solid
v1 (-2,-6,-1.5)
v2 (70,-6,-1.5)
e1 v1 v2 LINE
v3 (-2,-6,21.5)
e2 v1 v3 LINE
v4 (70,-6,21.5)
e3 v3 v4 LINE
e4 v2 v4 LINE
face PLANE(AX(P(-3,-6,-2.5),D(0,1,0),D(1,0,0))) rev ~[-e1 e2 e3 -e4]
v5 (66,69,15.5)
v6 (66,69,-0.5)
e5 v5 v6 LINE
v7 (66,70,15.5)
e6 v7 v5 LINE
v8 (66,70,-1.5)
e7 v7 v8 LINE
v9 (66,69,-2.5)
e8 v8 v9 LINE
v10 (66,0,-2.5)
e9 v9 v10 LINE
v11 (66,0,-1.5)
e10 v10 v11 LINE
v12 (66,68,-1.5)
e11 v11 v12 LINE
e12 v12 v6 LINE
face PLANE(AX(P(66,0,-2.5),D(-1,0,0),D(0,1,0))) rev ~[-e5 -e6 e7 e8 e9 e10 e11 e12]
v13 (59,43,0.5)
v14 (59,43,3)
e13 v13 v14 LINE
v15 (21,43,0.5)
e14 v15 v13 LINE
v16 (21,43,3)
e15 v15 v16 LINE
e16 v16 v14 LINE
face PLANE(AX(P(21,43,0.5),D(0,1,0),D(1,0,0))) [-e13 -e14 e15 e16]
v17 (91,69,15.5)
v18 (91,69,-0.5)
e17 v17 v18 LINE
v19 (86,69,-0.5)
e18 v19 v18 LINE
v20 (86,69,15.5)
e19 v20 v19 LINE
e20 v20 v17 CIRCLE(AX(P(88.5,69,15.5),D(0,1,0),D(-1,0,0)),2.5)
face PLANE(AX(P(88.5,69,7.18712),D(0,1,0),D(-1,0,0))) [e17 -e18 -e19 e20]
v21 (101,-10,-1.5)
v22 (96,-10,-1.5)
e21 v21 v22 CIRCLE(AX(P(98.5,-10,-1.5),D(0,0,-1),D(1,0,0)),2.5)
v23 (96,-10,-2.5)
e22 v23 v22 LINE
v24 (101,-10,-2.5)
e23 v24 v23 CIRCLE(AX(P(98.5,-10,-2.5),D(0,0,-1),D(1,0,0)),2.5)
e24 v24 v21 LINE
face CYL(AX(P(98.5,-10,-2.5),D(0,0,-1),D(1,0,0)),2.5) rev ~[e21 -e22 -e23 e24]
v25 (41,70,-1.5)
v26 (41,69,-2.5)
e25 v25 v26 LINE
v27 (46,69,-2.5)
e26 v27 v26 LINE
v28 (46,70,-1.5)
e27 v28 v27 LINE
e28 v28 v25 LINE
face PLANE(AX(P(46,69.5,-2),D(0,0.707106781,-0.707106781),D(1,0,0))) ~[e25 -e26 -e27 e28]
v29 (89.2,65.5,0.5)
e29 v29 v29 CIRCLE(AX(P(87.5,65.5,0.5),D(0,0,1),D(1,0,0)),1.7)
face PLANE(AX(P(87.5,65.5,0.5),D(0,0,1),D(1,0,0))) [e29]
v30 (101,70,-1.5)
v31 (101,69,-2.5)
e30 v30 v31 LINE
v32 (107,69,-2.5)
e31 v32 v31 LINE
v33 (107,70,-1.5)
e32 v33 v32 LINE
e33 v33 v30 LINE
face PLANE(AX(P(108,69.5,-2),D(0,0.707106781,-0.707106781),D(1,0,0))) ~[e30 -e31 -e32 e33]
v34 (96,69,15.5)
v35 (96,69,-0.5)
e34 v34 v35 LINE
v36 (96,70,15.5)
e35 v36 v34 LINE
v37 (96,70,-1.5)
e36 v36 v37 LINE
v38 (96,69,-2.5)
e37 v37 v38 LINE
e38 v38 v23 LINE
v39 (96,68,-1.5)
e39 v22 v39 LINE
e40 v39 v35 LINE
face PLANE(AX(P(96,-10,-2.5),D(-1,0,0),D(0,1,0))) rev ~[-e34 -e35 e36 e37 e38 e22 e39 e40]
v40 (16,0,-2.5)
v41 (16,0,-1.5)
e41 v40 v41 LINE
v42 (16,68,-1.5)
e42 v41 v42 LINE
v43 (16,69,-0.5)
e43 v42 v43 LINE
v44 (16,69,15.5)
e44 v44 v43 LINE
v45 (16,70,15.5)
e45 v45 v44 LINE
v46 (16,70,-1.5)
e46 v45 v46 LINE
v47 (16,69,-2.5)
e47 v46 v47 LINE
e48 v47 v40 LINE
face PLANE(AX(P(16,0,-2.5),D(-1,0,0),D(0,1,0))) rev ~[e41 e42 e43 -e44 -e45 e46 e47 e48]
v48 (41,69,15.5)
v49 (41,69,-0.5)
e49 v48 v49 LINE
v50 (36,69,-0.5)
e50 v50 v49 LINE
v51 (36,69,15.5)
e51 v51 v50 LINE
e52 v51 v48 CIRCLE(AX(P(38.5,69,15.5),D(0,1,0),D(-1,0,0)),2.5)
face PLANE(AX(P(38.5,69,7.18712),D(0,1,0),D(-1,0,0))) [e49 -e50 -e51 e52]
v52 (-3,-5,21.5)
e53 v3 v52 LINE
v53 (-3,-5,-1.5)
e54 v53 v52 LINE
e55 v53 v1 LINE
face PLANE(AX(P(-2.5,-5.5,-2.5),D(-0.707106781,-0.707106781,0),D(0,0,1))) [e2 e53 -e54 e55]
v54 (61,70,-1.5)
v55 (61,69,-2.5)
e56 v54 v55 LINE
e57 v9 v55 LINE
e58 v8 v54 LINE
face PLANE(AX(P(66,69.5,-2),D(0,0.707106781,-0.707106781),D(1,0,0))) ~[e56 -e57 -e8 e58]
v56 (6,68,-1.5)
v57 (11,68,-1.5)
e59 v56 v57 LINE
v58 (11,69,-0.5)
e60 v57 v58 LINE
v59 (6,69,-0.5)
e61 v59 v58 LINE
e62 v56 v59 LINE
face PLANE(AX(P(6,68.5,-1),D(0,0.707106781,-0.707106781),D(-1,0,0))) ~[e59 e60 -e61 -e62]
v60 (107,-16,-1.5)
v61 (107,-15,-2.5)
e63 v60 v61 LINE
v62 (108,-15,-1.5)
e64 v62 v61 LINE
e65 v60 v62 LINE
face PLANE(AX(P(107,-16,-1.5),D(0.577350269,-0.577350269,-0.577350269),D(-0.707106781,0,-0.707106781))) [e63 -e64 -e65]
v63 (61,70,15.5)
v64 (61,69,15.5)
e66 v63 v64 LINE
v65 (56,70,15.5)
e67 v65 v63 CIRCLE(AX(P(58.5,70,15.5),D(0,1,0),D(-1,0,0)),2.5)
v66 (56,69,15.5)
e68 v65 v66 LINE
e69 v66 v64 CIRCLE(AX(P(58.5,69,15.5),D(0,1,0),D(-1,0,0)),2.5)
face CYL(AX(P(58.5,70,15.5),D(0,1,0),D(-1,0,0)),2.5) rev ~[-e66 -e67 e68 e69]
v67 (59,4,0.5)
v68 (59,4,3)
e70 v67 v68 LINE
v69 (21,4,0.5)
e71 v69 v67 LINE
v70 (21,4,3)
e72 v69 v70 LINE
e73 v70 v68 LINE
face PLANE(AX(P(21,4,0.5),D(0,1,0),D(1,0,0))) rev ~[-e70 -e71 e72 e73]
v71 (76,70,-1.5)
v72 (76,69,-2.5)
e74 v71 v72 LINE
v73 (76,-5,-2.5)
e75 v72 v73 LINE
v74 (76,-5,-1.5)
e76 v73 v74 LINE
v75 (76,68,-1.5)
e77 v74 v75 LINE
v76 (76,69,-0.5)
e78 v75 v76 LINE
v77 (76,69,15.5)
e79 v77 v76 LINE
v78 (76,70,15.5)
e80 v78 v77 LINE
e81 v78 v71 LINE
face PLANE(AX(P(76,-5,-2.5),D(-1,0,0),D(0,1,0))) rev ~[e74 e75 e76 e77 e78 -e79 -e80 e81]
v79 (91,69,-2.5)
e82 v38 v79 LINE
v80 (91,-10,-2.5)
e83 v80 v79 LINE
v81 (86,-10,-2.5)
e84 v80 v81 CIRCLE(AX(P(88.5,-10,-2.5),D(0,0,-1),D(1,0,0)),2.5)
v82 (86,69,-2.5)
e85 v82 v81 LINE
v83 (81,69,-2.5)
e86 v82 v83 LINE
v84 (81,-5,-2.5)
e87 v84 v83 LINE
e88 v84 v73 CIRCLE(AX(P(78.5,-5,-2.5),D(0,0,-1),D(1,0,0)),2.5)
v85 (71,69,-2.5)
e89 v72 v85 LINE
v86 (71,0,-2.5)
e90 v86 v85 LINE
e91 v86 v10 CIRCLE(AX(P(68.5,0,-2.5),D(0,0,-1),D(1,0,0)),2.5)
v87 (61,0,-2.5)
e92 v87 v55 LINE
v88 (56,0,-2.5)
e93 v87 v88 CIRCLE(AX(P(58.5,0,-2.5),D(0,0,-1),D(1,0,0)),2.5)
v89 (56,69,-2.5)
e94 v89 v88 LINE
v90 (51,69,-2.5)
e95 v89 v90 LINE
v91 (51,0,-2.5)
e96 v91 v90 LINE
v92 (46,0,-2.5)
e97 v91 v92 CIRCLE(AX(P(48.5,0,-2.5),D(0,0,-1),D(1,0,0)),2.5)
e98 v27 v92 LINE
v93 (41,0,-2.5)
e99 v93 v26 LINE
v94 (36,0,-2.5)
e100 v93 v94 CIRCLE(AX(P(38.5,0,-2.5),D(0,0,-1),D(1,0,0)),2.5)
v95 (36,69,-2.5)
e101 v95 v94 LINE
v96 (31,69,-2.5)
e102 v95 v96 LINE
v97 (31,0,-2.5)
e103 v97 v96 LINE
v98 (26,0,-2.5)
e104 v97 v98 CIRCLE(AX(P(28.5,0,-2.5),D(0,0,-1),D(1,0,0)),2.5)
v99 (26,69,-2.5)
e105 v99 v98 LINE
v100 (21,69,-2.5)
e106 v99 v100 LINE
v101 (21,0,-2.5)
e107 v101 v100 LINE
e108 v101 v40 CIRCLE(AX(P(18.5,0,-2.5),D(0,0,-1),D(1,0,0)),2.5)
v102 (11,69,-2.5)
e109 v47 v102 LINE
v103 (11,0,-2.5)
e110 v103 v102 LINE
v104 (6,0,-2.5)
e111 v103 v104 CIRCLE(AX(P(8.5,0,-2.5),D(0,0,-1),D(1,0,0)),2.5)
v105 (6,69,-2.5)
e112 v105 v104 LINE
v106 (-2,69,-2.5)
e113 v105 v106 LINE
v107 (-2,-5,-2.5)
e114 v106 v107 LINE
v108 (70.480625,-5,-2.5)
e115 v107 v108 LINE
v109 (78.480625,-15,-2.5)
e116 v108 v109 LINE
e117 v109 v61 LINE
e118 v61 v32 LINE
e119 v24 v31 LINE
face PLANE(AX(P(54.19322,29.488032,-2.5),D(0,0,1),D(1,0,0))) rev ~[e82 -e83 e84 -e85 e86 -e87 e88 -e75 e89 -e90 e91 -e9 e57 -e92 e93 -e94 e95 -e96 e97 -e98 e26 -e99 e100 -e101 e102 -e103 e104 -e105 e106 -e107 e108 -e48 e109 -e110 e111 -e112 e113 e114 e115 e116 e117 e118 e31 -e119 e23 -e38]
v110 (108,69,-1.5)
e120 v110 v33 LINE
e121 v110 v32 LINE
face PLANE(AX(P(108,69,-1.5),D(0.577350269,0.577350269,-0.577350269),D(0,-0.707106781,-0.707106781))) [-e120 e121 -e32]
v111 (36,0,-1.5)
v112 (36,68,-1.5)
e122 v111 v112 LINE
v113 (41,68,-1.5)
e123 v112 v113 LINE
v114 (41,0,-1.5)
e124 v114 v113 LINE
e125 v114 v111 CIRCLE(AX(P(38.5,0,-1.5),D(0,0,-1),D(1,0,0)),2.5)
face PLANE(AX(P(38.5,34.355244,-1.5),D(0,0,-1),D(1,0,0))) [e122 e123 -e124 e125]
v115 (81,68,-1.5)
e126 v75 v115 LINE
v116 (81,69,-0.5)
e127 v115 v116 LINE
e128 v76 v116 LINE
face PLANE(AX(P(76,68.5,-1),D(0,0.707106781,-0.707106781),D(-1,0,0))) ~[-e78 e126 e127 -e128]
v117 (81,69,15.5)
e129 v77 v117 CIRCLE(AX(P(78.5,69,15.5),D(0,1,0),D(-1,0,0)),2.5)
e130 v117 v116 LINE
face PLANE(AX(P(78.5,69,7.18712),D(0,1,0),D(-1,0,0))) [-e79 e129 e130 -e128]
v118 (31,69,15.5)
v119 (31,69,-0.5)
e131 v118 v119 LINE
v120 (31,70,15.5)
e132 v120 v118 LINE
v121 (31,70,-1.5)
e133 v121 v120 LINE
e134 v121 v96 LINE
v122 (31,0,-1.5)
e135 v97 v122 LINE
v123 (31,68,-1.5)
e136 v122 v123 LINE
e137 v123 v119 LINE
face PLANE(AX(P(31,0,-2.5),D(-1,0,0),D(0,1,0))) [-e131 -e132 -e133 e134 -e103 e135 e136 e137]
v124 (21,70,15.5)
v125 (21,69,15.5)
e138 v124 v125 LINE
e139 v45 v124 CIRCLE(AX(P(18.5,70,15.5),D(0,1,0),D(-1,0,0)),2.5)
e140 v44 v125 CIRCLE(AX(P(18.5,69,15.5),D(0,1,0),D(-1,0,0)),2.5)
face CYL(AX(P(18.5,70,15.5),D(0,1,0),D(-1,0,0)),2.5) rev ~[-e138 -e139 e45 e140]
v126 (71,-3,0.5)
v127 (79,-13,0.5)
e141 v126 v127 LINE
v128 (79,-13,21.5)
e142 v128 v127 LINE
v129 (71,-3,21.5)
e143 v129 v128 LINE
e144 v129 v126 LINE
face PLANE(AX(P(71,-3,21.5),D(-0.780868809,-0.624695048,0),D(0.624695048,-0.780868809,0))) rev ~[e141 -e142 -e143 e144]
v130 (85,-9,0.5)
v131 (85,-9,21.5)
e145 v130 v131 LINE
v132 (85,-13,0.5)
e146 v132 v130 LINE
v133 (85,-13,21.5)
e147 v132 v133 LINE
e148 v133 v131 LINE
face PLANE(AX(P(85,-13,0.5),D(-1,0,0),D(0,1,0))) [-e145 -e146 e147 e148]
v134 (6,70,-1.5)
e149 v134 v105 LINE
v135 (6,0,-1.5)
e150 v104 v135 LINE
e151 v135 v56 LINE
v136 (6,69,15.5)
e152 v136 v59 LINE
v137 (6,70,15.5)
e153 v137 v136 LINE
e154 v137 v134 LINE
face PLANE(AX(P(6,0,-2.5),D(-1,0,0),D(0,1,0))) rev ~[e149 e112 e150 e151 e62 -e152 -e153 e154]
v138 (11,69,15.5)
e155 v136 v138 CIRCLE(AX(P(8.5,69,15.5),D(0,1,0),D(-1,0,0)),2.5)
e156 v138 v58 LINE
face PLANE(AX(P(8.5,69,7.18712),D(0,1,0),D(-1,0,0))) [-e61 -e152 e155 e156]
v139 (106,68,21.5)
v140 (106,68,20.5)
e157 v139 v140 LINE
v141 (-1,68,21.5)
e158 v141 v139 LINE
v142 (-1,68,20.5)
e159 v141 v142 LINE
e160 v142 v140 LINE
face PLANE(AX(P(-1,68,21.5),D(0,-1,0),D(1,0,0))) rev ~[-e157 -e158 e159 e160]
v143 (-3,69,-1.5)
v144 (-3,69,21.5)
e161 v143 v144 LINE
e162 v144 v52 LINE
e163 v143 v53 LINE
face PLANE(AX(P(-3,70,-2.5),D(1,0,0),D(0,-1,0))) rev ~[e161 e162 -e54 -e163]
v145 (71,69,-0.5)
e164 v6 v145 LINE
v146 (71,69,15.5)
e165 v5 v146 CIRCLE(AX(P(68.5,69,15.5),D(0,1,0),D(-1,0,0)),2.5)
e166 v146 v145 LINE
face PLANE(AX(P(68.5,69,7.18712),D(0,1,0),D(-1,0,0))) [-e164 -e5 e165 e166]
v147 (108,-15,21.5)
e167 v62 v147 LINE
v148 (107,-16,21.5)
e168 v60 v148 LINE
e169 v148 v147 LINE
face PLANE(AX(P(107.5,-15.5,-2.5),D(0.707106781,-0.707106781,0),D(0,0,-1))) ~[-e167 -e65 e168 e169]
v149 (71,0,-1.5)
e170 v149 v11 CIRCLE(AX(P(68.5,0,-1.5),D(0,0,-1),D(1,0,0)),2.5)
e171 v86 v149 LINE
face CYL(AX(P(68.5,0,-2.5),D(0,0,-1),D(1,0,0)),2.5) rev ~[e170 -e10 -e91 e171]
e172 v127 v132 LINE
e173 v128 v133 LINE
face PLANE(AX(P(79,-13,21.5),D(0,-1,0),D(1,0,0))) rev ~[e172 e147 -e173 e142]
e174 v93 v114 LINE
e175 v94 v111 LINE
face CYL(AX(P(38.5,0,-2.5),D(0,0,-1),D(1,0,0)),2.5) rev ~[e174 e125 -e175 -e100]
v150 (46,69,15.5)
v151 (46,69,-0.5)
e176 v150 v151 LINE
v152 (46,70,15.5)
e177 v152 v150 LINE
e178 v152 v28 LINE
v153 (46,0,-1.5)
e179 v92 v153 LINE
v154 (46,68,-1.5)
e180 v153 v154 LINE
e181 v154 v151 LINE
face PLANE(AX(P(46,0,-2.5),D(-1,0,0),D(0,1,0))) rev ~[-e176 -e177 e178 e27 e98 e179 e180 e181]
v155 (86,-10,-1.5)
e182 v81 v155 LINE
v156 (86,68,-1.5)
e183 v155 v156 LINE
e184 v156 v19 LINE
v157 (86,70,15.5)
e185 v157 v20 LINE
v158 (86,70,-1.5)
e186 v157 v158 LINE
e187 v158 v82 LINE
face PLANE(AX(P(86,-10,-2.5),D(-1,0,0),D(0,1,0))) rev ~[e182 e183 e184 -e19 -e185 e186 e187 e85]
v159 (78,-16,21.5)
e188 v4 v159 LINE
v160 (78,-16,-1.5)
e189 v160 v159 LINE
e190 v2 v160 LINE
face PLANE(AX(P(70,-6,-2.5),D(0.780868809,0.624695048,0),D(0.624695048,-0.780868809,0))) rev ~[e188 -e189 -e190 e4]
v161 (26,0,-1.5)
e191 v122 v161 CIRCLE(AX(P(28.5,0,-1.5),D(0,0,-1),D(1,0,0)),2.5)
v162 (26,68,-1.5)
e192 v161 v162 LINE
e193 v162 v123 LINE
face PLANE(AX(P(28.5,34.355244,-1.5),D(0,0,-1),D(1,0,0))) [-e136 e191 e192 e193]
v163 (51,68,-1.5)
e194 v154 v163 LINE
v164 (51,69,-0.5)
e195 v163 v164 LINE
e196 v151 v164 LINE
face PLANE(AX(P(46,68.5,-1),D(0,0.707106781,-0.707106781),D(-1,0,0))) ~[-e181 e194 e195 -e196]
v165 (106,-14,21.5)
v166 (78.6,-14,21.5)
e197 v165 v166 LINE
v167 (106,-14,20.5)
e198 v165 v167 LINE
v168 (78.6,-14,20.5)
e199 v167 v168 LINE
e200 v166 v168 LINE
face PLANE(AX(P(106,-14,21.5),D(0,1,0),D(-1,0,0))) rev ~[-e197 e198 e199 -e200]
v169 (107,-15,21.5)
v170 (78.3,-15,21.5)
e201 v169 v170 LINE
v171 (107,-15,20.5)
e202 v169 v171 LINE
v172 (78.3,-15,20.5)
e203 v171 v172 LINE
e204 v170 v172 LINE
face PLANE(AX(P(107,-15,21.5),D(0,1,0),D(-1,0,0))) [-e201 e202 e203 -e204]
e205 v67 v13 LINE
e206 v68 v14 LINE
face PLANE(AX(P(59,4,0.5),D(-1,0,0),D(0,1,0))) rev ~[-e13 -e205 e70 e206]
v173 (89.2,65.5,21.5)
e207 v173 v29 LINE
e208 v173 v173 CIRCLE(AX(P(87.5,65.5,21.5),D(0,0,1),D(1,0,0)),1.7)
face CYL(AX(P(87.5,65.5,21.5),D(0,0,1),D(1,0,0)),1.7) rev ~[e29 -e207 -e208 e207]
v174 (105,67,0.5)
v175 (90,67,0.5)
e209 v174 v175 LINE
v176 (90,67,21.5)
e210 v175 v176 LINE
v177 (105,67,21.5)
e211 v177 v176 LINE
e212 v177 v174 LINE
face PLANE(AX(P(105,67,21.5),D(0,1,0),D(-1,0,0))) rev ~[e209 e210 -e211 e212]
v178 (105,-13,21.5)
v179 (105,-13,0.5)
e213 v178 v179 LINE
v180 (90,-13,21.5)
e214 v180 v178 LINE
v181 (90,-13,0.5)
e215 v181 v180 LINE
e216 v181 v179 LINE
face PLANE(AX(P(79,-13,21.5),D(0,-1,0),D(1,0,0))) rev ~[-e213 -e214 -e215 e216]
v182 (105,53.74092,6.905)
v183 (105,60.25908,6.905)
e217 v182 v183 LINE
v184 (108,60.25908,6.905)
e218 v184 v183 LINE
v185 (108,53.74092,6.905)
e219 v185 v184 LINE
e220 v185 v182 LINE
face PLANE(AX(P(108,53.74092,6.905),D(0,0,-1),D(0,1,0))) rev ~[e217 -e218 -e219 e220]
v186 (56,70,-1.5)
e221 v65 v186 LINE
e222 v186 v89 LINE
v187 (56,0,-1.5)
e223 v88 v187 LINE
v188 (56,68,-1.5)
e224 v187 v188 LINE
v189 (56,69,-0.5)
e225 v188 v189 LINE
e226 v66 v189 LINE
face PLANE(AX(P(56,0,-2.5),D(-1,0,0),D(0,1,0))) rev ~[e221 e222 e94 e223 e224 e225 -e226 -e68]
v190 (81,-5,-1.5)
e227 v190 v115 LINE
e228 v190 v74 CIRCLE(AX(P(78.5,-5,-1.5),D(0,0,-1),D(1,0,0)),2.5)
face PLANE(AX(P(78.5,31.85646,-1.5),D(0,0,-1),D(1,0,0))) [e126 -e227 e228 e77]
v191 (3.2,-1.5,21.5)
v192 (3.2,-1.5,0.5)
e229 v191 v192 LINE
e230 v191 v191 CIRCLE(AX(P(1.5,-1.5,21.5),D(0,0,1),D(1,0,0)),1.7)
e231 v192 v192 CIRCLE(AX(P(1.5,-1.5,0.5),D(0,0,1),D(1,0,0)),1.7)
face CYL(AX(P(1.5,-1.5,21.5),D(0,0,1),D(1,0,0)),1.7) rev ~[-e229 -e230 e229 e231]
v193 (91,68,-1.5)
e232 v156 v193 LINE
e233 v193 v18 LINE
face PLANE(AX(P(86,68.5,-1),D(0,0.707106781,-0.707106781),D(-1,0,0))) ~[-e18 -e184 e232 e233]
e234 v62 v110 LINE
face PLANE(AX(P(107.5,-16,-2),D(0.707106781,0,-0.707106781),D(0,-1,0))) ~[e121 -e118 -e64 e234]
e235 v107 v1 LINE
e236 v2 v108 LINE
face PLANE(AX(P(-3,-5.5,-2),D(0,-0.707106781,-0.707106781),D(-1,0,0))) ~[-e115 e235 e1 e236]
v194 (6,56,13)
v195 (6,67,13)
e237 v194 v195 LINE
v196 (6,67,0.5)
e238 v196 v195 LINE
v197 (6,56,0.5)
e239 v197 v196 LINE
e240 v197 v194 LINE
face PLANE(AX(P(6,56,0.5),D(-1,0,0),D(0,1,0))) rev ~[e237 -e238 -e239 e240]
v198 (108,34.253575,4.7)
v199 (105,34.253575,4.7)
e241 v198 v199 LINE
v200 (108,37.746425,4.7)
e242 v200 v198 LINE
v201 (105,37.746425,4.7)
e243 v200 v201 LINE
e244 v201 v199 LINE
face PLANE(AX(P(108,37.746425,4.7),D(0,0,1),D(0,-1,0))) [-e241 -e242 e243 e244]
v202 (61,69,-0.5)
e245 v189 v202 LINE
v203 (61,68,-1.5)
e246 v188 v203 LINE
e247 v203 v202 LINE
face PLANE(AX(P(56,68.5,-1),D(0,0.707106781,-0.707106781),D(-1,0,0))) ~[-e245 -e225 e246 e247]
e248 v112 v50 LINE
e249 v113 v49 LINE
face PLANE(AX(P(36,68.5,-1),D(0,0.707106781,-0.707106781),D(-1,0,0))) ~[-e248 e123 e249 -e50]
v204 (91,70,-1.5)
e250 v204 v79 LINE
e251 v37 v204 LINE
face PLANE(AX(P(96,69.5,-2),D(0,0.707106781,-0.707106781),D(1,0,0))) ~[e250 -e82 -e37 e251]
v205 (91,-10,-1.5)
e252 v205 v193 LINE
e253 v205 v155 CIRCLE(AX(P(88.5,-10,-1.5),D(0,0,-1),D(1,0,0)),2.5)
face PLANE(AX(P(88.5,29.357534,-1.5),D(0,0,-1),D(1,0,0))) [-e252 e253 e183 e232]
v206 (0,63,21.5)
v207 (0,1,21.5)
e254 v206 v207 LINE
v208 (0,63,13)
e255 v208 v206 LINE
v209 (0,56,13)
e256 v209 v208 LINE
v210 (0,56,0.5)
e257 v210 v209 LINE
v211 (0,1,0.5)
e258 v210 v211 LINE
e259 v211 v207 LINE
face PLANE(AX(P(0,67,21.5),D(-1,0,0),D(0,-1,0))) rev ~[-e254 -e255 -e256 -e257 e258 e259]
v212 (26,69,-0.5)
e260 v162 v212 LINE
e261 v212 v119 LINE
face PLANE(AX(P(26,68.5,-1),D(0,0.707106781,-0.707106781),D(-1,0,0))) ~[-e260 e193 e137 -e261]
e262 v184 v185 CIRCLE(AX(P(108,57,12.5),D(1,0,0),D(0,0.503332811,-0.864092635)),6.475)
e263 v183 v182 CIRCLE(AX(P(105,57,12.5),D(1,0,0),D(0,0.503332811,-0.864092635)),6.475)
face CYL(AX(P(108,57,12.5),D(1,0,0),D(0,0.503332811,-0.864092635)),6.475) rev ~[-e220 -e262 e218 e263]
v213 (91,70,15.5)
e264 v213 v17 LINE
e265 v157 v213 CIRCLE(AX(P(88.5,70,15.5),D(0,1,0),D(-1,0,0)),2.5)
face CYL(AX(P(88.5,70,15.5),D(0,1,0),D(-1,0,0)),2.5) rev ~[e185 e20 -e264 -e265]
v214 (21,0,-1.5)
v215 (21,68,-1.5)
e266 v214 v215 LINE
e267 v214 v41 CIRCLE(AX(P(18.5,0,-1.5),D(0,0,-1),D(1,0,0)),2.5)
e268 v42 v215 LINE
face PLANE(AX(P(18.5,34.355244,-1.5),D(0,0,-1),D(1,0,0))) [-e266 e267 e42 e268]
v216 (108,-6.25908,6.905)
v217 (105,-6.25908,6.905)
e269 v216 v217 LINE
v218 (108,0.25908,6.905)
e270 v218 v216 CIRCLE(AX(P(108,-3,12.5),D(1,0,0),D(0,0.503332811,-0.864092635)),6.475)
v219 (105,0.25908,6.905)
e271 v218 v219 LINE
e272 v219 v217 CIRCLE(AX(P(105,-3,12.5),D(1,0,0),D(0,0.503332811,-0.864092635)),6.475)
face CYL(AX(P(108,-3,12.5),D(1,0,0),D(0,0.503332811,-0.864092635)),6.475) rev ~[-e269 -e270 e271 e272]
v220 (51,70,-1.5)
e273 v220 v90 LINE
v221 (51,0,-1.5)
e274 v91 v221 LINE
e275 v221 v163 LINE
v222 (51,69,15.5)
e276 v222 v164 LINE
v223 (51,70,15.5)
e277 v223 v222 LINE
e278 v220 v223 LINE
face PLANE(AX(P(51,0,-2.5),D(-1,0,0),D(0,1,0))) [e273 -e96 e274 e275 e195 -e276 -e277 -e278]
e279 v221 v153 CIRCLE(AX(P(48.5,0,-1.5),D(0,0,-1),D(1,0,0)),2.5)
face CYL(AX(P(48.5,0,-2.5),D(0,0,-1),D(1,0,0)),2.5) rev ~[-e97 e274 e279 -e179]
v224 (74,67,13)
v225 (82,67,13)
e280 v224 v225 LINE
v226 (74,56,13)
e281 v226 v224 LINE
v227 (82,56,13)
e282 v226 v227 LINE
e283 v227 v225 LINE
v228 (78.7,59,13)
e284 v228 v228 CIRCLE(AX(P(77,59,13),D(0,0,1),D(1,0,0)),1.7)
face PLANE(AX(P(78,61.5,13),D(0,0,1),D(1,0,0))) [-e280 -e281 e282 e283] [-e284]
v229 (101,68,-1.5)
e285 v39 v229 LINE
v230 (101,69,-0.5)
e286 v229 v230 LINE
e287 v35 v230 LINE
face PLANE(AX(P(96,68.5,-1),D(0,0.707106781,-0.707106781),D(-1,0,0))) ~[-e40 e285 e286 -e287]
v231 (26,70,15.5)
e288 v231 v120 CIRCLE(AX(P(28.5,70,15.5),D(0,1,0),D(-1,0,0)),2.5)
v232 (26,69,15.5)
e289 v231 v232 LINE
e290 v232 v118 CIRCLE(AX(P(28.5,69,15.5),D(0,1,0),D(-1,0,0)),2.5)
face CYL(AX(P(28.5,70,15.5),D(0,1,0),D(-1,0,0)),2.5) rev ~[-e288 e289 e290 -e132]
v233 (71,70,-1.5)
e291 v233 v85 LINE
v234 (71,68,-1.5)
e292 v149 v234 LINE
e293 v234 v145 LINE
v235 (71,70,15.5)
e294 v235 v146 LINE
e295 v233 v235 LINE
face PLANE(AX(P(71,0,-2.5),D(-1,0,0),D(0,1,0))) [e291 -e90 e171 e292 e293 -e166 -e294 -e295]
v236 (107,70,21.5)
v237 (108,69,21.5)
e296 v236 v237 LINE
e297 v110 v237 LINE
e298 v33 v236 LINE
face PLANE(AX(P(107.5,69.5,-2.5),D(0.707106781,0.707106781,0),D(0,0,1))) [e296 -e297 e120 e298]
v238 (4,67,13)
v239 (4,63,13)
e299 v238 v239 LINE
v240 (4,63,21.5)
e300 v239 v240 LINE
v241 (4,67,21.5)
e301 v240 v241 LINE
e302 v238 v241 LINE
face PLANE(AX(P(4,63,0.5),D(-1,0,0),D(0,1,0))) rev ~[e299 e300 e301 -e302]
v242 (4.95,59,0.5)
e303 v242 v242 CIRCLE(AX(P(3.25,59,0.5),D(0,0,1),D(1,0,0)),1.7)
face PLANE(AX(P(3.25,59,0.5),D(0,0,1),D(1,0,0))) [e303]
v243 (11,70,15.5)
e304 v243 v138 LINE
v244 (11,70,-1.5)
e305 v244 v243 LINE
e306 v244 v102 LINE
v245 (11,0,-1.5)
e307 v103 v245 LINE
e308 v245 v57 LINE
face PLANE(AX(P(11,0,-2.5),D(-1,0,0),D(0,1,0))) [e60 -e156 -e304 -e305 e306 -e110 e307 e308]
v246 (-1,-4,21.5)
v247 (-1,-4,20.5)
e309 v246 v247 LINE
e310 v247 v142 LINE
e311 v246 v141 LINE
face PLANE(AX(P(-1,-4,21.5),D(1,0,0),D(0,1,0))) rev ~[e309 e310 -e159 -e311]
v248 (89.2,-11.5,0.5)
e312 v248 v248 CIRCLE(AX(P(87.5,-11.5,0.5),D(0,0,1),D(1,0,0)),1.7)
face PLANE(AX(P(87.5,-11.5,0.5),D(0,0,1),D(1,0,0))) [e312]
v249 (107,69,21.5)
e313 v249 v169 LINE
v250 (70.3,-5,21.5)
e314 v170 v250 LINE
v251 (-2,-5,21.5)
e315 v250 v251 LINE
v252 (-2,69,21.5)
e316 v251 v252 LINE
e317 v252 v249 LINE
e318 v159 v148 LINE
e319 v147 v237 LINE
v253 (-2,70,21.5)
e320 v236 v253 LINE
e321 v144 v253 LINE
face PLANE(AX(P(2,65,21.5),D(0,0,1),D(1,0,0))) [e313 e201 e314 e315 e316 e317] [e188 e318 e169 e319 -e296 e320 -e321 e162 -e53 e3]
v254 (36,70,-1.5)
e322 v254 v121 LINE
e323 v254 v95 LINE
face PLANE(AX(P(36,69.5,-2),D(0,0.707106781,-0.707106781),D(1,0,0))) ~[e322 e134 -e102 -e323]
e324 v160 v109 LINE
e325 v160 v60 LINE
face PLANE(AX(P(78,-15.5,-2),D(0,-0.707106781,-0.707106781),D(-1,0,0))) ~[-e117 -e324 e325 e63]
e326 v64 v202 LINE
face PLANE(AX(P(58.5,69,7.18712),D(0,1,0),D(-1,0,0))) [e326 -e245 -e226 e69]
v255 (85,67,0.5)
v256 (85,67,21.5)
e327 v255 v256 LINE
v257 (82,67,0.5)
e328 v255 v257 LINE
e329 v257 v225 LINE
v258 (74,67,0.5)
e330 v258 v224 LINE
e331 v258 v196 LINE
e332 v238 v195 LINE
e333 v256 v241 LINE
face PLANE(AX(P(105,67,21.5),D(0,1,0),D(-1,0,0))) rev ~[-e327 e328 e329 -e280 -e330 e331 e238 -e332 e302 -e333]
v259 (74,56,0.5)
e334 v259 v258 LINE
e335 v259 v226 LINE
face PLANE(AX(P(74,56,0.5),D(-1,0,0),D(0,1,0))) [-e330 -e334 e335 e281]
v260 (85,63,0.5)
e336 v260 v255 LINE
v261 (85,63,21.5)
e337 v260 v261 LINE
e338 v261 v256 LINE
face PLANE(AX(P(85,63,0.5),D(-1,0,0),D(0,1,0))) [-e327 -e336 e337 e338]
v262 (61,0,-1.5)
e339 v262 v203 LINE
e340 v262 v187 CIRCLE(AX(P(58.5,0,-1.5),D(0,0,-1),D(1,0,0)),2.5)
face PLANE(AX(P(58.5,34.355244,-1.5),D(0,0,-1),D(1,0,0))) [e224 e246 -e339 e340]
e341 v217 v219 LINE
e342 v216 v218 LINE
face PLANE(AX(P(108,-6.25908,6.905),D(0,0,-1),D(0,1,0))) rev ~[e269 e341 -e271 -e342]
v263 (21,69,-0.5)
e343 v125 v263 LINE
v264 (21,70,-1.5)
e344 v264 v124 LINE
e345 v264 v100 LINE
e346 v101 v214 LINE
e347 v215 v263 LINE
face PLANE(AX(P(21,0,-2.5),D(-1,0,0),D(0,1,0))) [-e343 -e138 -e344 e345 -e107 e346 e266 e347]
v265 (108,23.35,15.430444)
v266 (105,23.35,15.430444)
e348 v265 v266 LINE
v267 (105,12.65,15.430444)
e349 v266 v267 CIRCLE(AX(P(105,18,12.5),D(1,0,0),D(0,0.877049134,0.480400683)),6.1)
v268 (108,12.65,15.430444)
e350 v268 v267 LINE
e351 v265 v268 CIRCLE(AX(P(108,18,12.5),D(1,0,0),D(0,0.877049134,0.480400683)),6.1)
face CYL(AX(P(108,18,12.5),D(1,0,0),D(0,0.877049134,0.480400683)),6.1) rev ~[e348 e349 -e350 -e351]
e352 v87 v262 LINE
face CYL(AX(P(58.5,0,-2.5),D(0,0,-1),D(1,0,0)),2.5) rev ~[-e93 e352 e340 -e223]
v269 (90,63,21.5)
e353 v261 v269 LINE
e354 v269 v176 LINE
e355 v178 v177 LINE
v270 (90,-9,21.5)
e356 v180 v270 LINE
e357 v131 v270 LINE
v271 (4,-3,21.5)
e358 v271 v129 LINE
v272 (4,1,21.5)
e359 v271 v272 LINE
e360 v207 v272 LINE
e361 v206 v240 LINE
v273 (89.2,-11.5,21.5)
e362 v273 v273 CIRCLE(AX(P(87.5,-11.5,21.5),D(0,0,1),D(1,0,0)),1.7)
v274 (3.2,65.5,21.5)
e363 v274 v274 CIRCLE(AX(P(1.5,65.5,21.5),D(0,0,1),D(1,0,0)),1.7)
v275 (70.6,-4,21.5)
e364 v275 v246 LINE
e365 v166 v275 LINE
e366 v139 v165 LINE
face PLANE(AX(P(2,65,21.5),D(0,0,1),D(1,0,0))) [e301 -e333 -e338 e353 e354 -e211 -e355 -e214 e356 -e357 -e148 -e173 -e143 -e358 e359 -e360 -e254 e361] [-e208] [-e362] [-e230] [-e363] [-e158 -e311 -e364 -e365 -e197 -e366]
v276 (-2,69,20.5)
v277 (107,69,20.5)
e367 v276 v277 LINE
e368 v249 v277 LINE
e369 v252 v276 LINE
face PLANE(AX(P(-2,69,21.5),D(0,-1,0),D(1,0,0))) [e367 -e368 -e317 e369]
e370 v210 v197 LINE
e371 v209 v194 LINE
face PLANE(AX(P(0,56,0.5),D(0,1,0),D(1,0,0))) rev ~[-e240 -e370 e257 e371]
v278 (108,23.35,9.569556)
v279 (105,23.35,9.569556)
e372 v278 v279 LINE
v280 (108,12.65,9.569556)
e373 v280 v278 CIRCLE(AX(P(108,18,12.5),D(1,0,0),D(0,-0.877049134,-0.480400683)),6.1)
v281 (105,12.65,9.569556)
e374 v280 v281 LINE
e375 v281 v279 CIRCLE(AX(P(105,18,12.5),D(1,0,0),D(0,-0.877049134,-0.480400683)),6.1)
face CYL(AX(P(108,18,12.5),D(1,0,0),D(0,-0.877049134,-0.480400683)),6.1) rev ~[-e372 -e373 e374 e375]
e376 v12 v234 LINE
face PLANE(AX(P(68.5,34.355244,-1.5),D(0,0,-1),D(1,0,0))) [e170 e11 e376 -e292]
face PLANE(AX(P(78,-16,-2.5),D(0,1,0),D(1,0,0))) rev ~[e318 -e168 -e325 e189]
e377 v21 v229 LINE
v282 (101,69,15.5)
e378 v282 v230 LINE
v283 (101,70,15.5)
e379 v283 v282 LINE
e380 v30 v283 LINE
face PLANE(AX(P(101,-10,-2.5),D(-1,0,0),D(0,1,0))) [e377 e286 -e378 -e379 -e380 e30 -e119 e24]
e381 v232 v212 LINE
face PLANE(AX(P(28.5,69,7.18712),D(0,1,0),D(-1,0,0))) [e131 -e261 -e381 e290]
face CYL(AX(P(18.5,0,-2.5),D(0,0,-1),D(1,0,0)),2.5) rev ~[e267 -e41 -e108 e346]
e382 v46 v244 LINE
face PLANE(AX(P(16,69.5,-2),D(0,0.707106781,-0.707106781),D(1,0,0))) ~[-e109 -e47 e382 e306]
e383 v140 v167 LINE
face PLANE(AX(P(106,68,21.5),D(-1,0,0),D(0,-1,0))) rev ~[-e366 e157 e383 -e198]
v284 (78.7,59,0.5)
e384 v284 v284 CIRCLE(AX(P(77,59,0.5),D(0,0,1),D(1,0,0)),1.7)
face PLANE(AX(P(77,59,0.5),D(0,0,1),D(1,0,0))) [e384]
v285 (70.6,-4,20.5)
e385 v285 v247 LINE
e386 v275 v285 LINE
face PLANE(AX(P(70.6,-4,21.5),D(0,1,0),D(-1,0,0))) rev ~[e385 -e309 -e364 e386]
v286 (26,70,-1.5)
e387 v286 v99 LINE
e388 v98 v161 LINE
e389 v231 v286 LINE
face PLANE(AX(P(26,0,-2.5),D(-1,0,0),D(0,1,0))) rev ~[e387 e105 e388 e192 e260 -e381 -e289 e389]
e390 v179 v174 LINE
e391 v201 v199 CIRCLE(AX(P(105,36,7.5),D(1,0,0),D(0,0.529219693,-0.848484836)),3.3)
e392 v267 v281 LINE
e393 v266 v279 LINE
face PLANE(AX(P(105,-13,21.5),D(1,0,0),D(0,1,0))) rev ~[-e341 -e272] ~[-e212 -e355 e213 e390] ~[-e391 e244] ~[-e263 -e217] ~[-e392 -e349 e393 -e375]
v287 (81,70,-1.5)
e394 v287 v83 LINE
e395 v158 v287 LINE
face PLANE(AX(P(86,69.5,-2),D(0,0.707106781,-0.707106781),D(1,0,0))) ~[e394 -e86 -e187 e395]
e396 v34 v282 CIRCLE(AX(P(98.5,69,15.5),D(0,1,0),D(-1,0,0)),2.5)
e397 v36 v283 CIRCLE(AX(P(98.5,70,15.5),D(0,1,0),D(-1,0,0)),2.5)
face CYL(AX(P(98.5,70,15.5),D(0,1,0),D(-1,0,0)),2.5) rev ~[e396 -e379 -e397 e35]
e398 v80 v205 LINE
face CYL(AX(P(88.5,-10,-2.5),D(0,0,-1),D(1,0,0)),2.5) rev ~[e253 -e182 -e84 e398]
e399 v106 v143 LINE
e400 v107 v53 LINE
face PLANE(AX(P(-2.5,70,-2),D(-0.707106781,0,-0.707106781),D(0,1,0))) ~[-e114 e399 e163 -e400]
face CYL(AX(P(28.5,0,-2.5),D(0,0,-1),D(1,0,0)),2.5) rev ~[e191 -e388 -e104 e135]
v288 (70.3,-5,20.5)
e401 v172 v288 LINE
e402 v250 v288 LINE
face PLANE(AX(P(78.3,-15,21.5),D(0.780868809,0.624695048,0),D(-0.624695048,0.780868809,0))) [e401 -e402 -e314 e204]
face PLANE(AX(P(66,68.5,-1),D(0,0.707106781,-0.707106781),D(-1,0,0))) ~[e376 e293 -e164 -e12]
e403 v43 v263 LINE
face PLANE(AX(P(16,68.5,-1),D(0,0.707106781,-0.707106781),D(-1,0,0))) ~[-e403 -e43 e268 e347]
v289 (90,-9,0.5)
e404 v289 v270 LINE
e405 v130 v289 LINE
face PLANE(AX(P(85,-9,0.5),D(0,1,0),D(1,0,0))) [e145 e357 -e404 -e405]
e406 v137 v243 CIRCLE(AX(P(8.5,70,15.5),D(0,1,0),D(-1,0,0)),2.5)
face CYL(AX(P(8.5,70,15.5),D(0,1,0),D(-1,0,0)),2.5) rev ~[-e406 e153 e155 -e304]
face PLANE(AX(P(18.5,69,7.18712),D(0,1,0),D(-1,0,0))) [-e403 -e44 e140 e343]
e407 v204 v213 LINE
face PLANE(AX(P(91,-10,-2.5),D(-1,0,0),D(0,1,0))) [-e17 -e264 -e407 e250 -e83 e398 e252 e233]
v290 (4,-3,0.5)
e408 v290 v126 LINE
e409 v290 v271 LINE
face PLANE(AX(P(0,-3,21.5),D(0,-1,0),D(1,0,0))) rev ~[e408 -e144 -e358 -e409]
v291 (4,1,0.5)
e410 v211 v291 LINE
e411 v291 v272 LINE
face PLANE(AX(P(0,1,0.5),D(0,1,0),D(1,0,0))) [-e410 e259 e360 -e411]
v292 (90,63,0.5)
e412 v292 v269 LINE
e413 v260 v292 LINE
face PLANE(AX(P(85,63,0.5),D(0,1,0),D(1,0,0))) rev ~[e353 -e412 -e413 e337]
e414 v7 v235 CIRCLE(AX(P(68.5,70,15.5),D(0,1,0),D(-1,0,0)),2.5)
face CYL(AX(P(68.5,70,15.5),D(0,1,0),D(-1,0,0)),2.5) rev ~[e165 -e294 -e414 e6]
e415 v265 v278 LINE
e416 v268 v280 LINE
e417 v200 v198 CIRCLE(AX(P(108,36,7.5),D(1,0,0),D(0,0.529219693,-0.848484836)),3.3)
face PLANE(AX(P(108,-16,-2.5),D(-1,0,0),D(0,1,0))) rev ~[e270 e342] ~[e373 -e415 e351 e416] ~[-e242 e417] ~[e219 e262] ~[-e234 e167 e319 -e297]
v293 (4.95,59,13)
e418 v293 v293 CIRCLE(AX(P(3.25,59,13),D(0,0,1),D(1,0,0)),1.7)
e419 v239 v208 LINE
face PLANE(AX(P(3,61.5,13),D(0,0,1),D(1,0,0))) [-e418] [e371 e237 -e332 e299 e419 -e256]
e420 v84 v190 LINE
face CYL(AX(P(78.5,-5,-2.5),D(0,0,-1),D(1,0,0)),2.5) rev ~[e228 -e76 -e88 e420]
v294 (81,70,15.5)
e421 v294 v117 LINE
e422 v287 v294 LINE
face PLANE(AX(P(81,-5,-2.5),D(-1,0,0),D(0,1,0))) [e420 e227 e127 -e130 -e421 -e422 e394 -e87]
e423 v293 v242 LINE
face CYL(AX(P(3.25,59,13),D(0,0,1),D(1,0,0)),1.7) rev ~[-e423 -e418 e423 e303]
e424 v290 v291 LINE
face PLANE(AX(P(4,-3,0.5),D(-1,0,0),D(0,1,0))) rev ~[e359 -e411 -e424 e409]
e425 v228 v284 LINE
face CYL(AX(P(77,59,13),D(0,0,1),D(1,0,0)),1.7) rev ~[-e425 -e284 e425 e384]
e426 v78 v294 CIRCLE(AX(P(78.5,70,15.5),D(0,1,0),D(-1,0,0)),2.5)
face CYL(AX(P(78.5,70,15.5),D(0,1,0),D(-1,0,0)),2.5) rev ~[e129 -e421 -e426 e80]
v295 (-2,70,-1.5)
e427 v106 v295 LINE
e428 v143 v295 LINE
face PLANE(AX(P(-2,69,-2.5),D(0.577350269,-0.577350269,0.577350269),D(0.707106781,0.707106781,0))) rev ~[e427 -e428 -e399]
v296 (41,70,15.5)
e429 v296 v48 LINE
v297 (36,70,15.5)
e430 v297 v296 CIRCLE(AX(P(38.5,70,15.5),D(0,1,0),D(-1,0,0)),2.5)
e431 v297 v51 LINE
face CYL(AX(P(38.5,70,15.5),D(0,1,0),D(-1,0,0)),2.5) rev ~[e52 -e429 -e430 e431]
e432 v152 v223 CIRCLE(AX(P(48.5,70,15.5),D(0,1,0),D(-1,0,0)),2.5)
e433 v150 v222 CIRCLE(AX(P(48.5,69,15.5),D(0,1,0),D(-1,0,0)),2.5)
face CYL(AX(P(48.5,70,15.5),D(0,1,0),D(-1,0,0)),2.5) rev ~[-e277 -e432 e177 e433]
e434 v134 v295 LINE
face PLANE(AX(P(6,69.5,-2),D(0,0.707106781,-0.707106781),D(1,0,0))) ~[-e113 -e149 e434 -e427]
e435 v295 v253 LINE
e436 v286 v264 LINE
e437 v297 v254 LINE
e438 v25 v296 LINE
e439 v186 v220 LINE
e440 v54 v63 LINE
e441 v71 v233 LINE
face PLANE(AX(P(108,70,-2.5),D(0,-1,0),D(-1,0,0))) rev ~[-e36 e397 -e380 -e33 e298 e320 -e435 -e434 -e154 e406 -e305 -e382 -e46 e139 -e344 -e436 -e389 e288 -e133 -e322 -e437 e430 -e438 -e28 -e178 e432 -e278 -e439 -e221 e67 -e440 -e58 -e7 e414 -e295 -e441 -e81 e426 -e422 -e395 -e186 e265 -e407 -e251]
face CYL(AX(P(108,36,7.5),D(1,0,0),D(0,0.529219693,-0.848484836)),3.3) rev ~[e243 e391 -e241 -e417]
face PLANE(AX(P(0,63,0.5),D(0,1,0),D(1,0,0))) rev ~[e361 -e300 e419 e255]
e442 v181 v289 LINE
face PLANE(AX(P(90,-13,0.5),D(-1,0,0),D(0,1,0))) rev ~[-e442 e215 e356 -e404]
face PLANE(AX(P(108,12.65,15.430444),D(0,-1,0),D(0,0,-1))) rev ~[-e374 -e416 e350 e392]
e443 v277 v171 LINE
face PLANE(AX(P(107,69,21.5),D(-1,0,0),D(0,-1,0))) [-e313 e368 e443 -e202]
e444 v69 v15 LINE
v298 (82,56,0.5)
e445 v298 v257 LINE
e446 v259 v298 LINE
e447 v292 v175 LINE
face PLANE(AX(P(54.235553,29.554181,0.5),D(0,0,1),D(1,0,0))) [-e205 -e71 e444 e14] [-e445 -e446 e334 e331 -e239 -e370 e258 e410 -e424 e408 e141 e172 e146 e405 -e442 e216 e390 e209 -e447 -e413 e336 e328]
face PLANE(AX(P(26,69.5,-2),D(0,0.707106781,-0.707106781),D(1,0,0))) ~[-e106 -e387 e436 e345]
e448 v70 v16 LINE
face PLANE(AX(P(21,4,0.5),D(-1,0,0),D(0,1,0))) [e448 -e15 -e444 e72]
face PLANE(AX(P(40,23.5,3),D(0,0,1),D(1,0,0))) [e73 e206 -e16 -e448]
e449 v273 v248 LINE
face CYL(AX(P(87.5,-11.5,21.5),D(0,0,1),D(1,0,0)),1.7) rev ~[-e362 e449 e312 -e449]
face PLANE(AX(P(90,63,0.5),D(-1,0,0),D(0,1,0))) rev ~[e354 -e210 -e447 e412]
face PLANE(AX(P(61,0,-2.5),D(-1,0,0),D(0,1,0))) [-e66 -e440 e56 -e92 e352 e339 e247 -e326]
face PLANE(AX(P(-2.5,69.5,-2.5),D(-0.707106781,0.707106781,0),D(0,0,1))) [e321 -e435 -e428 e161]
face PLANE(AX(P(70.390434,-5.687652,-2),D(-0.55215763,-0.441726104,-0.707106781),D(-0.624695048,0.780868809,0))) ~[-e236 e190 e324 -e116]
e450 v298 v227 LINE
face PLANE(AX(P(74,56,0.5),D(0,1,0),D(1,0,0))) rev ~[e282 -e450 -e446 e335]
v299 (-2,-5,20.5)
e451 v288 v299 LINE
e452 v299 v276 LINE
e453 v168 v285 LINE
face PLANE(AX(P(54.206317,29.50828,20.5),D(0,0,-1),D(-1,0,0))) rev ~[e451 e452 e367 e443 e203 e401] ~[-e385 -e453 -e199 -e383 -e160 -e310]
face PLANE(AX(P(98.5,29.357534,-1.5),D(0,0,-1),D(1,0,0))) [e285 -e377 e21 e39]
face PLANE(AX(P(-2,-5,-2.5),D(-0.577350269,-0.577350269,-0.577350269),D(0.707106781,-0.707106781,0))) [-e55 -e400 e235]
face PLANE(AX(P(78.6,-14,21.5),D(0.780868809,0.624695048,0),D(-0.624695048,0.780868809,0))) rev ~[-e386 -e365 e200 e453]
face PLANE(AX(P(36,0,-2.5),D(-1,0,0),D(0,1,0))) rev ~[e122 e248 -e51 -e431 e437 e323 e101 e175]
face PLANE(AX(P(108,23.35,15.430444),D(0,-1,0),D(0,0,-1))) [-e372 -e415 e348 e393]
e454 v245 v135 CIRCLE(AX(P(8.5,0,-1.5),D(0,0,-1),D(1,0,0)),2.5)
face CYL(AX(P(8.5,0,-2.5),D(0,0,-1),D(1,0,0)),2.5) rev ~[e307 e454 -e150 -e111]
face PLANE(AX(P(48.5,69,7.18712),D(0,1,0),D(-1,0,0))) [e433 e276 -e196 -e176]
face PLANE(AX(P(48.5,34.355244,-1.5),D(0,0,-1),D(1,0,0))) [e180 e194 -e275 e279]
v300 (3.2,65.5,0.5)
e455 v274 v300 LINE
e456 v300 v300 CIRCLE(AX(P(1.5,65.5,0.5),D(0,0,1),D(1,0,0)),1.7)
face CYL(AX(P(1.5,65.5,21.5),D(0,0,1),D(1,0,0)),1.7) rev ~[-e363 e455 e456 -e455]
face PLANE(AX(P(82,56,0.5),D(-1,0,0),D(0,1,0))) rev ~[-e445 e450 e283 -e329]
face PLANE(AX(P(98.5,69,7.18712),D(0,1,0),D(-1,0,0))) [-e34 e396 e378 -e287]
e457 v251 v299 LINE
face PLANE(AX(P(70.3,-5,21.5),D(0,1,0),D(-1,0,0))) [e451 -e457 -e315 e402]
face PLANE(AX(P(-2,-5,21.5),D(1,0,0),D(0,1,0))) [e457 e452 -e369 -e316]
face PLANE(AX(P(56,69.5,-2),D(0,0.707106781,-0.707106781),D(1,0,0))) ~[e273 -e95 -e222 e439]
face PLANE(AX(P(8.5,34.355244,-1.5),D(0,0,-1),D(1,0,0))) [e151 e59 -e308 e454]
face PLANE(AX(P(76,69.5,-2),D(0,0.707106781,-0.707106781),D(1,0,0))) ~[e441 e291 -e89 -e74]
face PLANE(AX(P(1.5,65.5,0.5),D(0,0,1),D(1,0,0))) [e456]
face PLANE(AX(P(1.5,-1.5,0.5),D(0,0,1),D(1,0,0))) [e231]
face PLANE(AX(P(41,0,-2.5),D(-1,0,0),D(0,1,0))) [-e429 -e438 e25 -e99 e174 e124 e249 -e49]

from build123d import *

# Parameters (mm, degrees)
PAD_DEPTH       = 24
POCKET_DEPTH    = 21
POCKET003_DEPTH = 1
POCKET004_DEPTH = 1
POCKET005_DEPTH = 5
SKETCH015_W     = 6
SKETCH015_H     = 11
SKETCH015_W_2   = 8
PAD006_DEPTH    = 12.5
SKETCH012_W     = 4
SKETCH012_H     = 4
SKETCH012_W_2   = 5
PAD007_DEPTH    = 21
POCKET006_DEPTH = 1
SKETCH016_R     = 1.7
HOLE_DEPTH      = 12.5
SKETCH017_R     = 1.7
HOLE001_DEPTH   = 21
CHAMFER_SIZE    = 1
SKETCH018_W     = 38
SKETCH018_H     = 39
PAD008_DEPTH    = 2.5


with BuildPart() as part:
    # Sketch → Pad (new body)
    with BuildSketch(Plane.XY):
        Polygon((-3, -6), (70, -6), (78, -16), (108, -16), (108, 70), (-3, 70), align=None)
    extrude(amount=PAD_DEPTH)

    # Sketch001 (on Face8 of Pad) → Pocket (cut)
    with BuildSketch(Plane.XY.offset(24)):
        Polygon((0, 67), (0, -3), (71, -3), (79, -13), (105, -13), (105, 67), align=None)
    extrude(amount=-POCKET_DEPTH, mode=Mode.SUBTRACT)

    # Sketch008 → Pocket003 (cut)
    with BuildSketch(Plane(origin=(0, 0, 0), x_dir=(1, 0, 0), z_dir=(0, 0, -1))):
        with BuildLine():
            ThreePointArc((91, 10), (88.5, 12.5), (86, 10))
            Line((86, 10), (86, -70))
            Line((86, -70), (91, -70))
            Line((91, 10), (91, -70))
        make_face()
        with BuildLine():
            ThreePointArc((101, 10), (98.5, 12.5), (96, 10))
            Line((96, 10), (96, -70))
            Line((96, -70), (101, -70))
            Line((101, 10), (101, -70))
        make_face()
        with BuildLine():
            ThreePointArc((71, 0), (68.5, 2.5), (66, 0))
            Line((66, 0), (66, -70))
            Line((66, -70), (71, -70))
            Line((71, 0), (71, -70))
        make_face()
        with BuildLine():
            ThreePointArc((81, 5), (78.5, 7.5), (76, 5))
            Line((76, 5), (76, -70))
            Line((76, -70), (81, -70))
            Line((81, 5), (81, -70))
        make_face()
        with BuildLine():
            ThreePointArc((41, 0), (38.5, 2.5), (36, 0))
            Line((36, 0), (36, -70))
            Line((36, -70), (41, -70))
            Line((41, 0), (41, -70))
        make_face()
        with BuildLine():
            ThreePointArc((61, 0), (58.5, 2.5), (56, 0))
            Line((56, 0), (56, -70))
            Line((56, -70), (61, -70))
            Line((61, 0), (61, -70))
        make_face()
        with BuildLine():
            ThreePointArc((31, 0), (28.5, 2.5), (26, 0))
            Line((26, 0), (26, -70))
            Line((26, -70), (31, -70))
            Line((31, 0), (31, -70))
        make_face()
        with BuildLine():
            ThreePointArc((21, 0), (18.5, 2.5), (16, 0))
            Line((16, 0), (16, -70))
            Line((16, -70), (21, -70))
            Line((21, 0), (21, -70))
        make_face()
        with BuildLine():
            ThreePointArc((51, 0), (48.5, 2.5), (46, 0))
            Line((46, 0), (46, -70))
            Line((46, -70), (51, -70))
            Line((51, 0), (51, -70))
        make_face()
        with BuildLine():
            ThreePointArc((11, 0), (8.5, 2.5), (6, 0))
            Line((6, 0), (6, -70))
            Line((6, -70), (11, -70))
            Line((11, 0), (11, -70))
        make_face()
    extrude(amount=-POCKET003_DEPTH, mode=Mode.SUBTRACT)

    # Sketch009 (on Face6 of Pocket003) → Pocket004 (cut)
    with BuildSketch(Plane(origin=(0, 70, 0), x_dir=(-1, 0, 0), z_dir=(0, 1, 0))):
        with BuildLine():
            ThreePointArc((-96, 18), (-98.5, 20.5), (-101, 18))
            Line((-101, 18), (-101, 0))
            Line((-101, 0), (-96, 0))
            Line((-96, 18), (-96, 0))
        make_face()
        with BuildLine():
            ThreePointArc((-86, 18), (-88.5, 20.5), (-91, 18))
            Line((-91, 18), (-91, 0))
            Line((-91, 0), (-86, 0))
            Line((-86, 18), (-86, 0))
        make_face()
        with BuildLine():
            ThreePointArc((-56, 18), (-58.5, 20.5), (-61, 18))
            Line((-61, 18), (-61, 0))
            Line((-61, 0), (-56, 0))
            Line((-56, 18), (-56, 0))
        make_face()
        with BuildLine():
            ThreePointArc((-76, 18), (-78.5, 20.5), (-81, 18))
            Line((-81, 18), (-81, 0))
            Line((-81, 0), (-76, 0))
            Line((-76, 18), (-76, 0))
        make_face()
        with BuildLine():
            ThreePointArc((-46, 18), (-48.5, 20.5), (-51, 18))
            Line((-51, 18), (-51, 0))
            Line((-51, 0), (-46, 0))
            Line((-46, 18), (-46, 0))
        make_face()
        with BuildLine():
            ThreePointArc((-36, 18), (-38.5, 20.5), (-41, 18))
            Line((-41, 18), (-41, 0))
            Line((-41, 0), (-36, 0))
            Line((-36, 18), (-36, 0))
        make_face()
        with BuildLine():
            ThreePointArc((-26, 18), (-28.5, 20.5), (-31, 18))
            Line((-31, 18), (-31, 0))
            Line((-31, 0), (-26, 0))
            Line((-26, 18), (-26, 0))
        make_face()
        with BuildLine():
            ThreePointArc((-16, 18), (-18.5, 20.5), (-21, 18))
            Line((-21, 18), (-21, 0))
            Line((-21, 0), (-16, 0))
            Line((-16, 18), (-16, 0))
        make_face()
        with BuildLine():
            ThreePointArc((-6, 18), (-8.5, 20.5), (-11, 18))
            Line((-11, 18), (-11, 0))
            Line((-11, 0), (-6, 0))
            Line((-6, 18), (-6, 0))
        make_face()
        with BuildLine():
            ThreePointArc((-66, 18), (-68.5, 20.5), (-71, 18))
            Line((-71, 18), (-71, 0))
            Line((-71, 0), (-66, 0))
            Line((-66, 18), (-66, 0))
        make_face()
    extrude(amount=-POCKET004_DEPTH, mode=Mode.SUBTRACT)

    # Sketch014 (on Face38 of Pocket003) → Pocket005 (cut)
    with BuildSketch(Plane.YZ.offset(108)):
        with BuildLine():
            ThreePointArc((0.25908, 9.405), (-3, 21.475), (-6.25908, 9.405))
            Line((-6.25908, 9.405), (0.25908, 9.405))
        make_face()
        with BuildLine():
            ThreePointArc((60.25908, 9.405), (57, 21.475), (53.74092, 9.405))
            Line((53.74092, 9.405), (60.25908, 9.405))
        make_face()
        with BuildLine():
            ThreePointArc((37.746425, 7.2), (36, 13.3), (34.253575, 7.2))
            Line((37.746425, 7.2), (34.253575, 7.2))
        make_face()
        with BuildLine():
            ThreePointArc((12.65, 12.069556), (18, 8.9), (23.35, 12.069556))
            Line((23.35, 17.930444), (23.35, 12.069556))
            ThreePointArc((23.35, 17.930444), (18, 21.1), (12.65, 17.930444))
            Line((12.65, 17.930444), (12.65, 12.069556))
        make_face()
    extrude(amount=-POCKET005_DEPTH, mode=Mode.SUBTRACT)

    # Sketch015 → Pad006 (join)
    with BuildSketch(Plane.XY.offset(3)):
        with Locations((3, 61.5)):
            Rectangle(SKETCH015_W, SKETCH015_H)
        with Locations((78, 61.5)):
            Rectangle(SKETCH015_W_2, SKETCH015_H)
    extrude(amount=PAD006_DEPTH)

    # Sketch012 → Pad007 (join)
    with BuildSketch(Plane.XY.offset(3)):
        with Locations((2, 65)):
            Rectangle(SKETCH012_W, SKETCH012_H)
        with Locations((87.5, 65)):
            Rectangle(SKETCH012_W_2, SKETCH012_H)
        with Locations((87.5, -11)):
            Rectangle(SKETCH012_W_2, SKETCH012_H)
        with Locations((2, -1)):
            Rectangle(SKETCH012_W, SKETCH012_H)
    extrude(amount=PAD007_DEPTH)

    # Sketch006 → Pocket006 (cut)
    with BuildSketch(Plane.XY.offset(24)):
        Polygon((-2, 69), (107, 69), (107, -15), (78.3, -15), (70.3, -5), (-2, -5), align=None)
        Polygon((-1, 68), (106, 68), (106, -14), (78.6, -14), (70.6, -4), (-1, -4), align=None, mode=Mode.SUBTRACT)
    extrude(amount=-POCKET006_DEPTH, mode=Mode.SUBTRACT)

    # Sketch016 (on Face8 of Pocket006) → Hole (cut)
    with BuildSketch(Plane.XY.offset(15.5)):
        with Locations((3.25, 59)):
            Circle(SKETCH016_R)
        with Locations((77, 59)):
            Circle(SKETCH016_R)
    extrude(amount=-HOLE_DEPTH, mode=Mode.SUBTRACT)

    # Sketch017 (on Face56 of Hole) → Hole001 (cut)
    with BuildSketch(Plane.XY.offset(24)):
        with Locations((1.5, 65.5)):
            Circle(SKETCH017_R)
        with Locations((87.5, 65.5)):
            Circle(SKETCH017_R)
        with Locations((87.5, -11.5)):
            Circle(SKETCH017_R)
        with Locations((1.5, -1.5)):
            Circle(SKETCH017_R)
    extrude(amount=-HOLE001_DEPTH, mode=Mode.SUBTRACT)

    # Chamfer
    chamfer_edges = [part.edges().sort_by_distance(p)[0] for p in [
        (-3, 70, 12),
        (-3, -6, 12),
        (-3, 32, 0),
        (33.5, -6, 0),
        (1.5, 70, 0),
        (8.5, 69, 1),
        (13.5, 70, 0),
        (18.5, 69, 1),
        (23.5, 70, 0),
        (33.5, 70, 0),
        (28.5, 69, 1),
        (104.5, 70, 0),
        (108, 70, 12),
        (98.5, 69, 1),
        (93.5, 70, 0),
        (88.5, 69, 1),
        (83.5, 70, 0),
        (78.5, 69, 1),
        (73.5, 70, 0),
        (68.5, 69, 1),
        (63.5, 70, 0),
        (58.5, 69, 1),
        (53.5, 70, 0),
        (48.5, 69, 1),
        (43.5, 70, 0),
        (38.5, 69, 1),
        (108, 27, 0),
        (108, -16, 12),
        (93, -16, 0),
        (74, -11, 0),
    ]]
    chamfer(chamfer_edges, length=CHAMFER_SIZE)

    # Sketch018 (on Face93 of Chamfer) → Pad008 (join)
    with BuildSketch(Plane.XY.offset(3)):
        with Locations((40, 23.5)):
            Rectangle(SKETCH018_W, SKETCH018_H)
    extrude(amount=PAD008_DEPTH)


with BuildPart() as part_1:
    # Body placement: moved
    add(part.part.moved(Location((0, 0, -2.5))))


solid = part_1.part
